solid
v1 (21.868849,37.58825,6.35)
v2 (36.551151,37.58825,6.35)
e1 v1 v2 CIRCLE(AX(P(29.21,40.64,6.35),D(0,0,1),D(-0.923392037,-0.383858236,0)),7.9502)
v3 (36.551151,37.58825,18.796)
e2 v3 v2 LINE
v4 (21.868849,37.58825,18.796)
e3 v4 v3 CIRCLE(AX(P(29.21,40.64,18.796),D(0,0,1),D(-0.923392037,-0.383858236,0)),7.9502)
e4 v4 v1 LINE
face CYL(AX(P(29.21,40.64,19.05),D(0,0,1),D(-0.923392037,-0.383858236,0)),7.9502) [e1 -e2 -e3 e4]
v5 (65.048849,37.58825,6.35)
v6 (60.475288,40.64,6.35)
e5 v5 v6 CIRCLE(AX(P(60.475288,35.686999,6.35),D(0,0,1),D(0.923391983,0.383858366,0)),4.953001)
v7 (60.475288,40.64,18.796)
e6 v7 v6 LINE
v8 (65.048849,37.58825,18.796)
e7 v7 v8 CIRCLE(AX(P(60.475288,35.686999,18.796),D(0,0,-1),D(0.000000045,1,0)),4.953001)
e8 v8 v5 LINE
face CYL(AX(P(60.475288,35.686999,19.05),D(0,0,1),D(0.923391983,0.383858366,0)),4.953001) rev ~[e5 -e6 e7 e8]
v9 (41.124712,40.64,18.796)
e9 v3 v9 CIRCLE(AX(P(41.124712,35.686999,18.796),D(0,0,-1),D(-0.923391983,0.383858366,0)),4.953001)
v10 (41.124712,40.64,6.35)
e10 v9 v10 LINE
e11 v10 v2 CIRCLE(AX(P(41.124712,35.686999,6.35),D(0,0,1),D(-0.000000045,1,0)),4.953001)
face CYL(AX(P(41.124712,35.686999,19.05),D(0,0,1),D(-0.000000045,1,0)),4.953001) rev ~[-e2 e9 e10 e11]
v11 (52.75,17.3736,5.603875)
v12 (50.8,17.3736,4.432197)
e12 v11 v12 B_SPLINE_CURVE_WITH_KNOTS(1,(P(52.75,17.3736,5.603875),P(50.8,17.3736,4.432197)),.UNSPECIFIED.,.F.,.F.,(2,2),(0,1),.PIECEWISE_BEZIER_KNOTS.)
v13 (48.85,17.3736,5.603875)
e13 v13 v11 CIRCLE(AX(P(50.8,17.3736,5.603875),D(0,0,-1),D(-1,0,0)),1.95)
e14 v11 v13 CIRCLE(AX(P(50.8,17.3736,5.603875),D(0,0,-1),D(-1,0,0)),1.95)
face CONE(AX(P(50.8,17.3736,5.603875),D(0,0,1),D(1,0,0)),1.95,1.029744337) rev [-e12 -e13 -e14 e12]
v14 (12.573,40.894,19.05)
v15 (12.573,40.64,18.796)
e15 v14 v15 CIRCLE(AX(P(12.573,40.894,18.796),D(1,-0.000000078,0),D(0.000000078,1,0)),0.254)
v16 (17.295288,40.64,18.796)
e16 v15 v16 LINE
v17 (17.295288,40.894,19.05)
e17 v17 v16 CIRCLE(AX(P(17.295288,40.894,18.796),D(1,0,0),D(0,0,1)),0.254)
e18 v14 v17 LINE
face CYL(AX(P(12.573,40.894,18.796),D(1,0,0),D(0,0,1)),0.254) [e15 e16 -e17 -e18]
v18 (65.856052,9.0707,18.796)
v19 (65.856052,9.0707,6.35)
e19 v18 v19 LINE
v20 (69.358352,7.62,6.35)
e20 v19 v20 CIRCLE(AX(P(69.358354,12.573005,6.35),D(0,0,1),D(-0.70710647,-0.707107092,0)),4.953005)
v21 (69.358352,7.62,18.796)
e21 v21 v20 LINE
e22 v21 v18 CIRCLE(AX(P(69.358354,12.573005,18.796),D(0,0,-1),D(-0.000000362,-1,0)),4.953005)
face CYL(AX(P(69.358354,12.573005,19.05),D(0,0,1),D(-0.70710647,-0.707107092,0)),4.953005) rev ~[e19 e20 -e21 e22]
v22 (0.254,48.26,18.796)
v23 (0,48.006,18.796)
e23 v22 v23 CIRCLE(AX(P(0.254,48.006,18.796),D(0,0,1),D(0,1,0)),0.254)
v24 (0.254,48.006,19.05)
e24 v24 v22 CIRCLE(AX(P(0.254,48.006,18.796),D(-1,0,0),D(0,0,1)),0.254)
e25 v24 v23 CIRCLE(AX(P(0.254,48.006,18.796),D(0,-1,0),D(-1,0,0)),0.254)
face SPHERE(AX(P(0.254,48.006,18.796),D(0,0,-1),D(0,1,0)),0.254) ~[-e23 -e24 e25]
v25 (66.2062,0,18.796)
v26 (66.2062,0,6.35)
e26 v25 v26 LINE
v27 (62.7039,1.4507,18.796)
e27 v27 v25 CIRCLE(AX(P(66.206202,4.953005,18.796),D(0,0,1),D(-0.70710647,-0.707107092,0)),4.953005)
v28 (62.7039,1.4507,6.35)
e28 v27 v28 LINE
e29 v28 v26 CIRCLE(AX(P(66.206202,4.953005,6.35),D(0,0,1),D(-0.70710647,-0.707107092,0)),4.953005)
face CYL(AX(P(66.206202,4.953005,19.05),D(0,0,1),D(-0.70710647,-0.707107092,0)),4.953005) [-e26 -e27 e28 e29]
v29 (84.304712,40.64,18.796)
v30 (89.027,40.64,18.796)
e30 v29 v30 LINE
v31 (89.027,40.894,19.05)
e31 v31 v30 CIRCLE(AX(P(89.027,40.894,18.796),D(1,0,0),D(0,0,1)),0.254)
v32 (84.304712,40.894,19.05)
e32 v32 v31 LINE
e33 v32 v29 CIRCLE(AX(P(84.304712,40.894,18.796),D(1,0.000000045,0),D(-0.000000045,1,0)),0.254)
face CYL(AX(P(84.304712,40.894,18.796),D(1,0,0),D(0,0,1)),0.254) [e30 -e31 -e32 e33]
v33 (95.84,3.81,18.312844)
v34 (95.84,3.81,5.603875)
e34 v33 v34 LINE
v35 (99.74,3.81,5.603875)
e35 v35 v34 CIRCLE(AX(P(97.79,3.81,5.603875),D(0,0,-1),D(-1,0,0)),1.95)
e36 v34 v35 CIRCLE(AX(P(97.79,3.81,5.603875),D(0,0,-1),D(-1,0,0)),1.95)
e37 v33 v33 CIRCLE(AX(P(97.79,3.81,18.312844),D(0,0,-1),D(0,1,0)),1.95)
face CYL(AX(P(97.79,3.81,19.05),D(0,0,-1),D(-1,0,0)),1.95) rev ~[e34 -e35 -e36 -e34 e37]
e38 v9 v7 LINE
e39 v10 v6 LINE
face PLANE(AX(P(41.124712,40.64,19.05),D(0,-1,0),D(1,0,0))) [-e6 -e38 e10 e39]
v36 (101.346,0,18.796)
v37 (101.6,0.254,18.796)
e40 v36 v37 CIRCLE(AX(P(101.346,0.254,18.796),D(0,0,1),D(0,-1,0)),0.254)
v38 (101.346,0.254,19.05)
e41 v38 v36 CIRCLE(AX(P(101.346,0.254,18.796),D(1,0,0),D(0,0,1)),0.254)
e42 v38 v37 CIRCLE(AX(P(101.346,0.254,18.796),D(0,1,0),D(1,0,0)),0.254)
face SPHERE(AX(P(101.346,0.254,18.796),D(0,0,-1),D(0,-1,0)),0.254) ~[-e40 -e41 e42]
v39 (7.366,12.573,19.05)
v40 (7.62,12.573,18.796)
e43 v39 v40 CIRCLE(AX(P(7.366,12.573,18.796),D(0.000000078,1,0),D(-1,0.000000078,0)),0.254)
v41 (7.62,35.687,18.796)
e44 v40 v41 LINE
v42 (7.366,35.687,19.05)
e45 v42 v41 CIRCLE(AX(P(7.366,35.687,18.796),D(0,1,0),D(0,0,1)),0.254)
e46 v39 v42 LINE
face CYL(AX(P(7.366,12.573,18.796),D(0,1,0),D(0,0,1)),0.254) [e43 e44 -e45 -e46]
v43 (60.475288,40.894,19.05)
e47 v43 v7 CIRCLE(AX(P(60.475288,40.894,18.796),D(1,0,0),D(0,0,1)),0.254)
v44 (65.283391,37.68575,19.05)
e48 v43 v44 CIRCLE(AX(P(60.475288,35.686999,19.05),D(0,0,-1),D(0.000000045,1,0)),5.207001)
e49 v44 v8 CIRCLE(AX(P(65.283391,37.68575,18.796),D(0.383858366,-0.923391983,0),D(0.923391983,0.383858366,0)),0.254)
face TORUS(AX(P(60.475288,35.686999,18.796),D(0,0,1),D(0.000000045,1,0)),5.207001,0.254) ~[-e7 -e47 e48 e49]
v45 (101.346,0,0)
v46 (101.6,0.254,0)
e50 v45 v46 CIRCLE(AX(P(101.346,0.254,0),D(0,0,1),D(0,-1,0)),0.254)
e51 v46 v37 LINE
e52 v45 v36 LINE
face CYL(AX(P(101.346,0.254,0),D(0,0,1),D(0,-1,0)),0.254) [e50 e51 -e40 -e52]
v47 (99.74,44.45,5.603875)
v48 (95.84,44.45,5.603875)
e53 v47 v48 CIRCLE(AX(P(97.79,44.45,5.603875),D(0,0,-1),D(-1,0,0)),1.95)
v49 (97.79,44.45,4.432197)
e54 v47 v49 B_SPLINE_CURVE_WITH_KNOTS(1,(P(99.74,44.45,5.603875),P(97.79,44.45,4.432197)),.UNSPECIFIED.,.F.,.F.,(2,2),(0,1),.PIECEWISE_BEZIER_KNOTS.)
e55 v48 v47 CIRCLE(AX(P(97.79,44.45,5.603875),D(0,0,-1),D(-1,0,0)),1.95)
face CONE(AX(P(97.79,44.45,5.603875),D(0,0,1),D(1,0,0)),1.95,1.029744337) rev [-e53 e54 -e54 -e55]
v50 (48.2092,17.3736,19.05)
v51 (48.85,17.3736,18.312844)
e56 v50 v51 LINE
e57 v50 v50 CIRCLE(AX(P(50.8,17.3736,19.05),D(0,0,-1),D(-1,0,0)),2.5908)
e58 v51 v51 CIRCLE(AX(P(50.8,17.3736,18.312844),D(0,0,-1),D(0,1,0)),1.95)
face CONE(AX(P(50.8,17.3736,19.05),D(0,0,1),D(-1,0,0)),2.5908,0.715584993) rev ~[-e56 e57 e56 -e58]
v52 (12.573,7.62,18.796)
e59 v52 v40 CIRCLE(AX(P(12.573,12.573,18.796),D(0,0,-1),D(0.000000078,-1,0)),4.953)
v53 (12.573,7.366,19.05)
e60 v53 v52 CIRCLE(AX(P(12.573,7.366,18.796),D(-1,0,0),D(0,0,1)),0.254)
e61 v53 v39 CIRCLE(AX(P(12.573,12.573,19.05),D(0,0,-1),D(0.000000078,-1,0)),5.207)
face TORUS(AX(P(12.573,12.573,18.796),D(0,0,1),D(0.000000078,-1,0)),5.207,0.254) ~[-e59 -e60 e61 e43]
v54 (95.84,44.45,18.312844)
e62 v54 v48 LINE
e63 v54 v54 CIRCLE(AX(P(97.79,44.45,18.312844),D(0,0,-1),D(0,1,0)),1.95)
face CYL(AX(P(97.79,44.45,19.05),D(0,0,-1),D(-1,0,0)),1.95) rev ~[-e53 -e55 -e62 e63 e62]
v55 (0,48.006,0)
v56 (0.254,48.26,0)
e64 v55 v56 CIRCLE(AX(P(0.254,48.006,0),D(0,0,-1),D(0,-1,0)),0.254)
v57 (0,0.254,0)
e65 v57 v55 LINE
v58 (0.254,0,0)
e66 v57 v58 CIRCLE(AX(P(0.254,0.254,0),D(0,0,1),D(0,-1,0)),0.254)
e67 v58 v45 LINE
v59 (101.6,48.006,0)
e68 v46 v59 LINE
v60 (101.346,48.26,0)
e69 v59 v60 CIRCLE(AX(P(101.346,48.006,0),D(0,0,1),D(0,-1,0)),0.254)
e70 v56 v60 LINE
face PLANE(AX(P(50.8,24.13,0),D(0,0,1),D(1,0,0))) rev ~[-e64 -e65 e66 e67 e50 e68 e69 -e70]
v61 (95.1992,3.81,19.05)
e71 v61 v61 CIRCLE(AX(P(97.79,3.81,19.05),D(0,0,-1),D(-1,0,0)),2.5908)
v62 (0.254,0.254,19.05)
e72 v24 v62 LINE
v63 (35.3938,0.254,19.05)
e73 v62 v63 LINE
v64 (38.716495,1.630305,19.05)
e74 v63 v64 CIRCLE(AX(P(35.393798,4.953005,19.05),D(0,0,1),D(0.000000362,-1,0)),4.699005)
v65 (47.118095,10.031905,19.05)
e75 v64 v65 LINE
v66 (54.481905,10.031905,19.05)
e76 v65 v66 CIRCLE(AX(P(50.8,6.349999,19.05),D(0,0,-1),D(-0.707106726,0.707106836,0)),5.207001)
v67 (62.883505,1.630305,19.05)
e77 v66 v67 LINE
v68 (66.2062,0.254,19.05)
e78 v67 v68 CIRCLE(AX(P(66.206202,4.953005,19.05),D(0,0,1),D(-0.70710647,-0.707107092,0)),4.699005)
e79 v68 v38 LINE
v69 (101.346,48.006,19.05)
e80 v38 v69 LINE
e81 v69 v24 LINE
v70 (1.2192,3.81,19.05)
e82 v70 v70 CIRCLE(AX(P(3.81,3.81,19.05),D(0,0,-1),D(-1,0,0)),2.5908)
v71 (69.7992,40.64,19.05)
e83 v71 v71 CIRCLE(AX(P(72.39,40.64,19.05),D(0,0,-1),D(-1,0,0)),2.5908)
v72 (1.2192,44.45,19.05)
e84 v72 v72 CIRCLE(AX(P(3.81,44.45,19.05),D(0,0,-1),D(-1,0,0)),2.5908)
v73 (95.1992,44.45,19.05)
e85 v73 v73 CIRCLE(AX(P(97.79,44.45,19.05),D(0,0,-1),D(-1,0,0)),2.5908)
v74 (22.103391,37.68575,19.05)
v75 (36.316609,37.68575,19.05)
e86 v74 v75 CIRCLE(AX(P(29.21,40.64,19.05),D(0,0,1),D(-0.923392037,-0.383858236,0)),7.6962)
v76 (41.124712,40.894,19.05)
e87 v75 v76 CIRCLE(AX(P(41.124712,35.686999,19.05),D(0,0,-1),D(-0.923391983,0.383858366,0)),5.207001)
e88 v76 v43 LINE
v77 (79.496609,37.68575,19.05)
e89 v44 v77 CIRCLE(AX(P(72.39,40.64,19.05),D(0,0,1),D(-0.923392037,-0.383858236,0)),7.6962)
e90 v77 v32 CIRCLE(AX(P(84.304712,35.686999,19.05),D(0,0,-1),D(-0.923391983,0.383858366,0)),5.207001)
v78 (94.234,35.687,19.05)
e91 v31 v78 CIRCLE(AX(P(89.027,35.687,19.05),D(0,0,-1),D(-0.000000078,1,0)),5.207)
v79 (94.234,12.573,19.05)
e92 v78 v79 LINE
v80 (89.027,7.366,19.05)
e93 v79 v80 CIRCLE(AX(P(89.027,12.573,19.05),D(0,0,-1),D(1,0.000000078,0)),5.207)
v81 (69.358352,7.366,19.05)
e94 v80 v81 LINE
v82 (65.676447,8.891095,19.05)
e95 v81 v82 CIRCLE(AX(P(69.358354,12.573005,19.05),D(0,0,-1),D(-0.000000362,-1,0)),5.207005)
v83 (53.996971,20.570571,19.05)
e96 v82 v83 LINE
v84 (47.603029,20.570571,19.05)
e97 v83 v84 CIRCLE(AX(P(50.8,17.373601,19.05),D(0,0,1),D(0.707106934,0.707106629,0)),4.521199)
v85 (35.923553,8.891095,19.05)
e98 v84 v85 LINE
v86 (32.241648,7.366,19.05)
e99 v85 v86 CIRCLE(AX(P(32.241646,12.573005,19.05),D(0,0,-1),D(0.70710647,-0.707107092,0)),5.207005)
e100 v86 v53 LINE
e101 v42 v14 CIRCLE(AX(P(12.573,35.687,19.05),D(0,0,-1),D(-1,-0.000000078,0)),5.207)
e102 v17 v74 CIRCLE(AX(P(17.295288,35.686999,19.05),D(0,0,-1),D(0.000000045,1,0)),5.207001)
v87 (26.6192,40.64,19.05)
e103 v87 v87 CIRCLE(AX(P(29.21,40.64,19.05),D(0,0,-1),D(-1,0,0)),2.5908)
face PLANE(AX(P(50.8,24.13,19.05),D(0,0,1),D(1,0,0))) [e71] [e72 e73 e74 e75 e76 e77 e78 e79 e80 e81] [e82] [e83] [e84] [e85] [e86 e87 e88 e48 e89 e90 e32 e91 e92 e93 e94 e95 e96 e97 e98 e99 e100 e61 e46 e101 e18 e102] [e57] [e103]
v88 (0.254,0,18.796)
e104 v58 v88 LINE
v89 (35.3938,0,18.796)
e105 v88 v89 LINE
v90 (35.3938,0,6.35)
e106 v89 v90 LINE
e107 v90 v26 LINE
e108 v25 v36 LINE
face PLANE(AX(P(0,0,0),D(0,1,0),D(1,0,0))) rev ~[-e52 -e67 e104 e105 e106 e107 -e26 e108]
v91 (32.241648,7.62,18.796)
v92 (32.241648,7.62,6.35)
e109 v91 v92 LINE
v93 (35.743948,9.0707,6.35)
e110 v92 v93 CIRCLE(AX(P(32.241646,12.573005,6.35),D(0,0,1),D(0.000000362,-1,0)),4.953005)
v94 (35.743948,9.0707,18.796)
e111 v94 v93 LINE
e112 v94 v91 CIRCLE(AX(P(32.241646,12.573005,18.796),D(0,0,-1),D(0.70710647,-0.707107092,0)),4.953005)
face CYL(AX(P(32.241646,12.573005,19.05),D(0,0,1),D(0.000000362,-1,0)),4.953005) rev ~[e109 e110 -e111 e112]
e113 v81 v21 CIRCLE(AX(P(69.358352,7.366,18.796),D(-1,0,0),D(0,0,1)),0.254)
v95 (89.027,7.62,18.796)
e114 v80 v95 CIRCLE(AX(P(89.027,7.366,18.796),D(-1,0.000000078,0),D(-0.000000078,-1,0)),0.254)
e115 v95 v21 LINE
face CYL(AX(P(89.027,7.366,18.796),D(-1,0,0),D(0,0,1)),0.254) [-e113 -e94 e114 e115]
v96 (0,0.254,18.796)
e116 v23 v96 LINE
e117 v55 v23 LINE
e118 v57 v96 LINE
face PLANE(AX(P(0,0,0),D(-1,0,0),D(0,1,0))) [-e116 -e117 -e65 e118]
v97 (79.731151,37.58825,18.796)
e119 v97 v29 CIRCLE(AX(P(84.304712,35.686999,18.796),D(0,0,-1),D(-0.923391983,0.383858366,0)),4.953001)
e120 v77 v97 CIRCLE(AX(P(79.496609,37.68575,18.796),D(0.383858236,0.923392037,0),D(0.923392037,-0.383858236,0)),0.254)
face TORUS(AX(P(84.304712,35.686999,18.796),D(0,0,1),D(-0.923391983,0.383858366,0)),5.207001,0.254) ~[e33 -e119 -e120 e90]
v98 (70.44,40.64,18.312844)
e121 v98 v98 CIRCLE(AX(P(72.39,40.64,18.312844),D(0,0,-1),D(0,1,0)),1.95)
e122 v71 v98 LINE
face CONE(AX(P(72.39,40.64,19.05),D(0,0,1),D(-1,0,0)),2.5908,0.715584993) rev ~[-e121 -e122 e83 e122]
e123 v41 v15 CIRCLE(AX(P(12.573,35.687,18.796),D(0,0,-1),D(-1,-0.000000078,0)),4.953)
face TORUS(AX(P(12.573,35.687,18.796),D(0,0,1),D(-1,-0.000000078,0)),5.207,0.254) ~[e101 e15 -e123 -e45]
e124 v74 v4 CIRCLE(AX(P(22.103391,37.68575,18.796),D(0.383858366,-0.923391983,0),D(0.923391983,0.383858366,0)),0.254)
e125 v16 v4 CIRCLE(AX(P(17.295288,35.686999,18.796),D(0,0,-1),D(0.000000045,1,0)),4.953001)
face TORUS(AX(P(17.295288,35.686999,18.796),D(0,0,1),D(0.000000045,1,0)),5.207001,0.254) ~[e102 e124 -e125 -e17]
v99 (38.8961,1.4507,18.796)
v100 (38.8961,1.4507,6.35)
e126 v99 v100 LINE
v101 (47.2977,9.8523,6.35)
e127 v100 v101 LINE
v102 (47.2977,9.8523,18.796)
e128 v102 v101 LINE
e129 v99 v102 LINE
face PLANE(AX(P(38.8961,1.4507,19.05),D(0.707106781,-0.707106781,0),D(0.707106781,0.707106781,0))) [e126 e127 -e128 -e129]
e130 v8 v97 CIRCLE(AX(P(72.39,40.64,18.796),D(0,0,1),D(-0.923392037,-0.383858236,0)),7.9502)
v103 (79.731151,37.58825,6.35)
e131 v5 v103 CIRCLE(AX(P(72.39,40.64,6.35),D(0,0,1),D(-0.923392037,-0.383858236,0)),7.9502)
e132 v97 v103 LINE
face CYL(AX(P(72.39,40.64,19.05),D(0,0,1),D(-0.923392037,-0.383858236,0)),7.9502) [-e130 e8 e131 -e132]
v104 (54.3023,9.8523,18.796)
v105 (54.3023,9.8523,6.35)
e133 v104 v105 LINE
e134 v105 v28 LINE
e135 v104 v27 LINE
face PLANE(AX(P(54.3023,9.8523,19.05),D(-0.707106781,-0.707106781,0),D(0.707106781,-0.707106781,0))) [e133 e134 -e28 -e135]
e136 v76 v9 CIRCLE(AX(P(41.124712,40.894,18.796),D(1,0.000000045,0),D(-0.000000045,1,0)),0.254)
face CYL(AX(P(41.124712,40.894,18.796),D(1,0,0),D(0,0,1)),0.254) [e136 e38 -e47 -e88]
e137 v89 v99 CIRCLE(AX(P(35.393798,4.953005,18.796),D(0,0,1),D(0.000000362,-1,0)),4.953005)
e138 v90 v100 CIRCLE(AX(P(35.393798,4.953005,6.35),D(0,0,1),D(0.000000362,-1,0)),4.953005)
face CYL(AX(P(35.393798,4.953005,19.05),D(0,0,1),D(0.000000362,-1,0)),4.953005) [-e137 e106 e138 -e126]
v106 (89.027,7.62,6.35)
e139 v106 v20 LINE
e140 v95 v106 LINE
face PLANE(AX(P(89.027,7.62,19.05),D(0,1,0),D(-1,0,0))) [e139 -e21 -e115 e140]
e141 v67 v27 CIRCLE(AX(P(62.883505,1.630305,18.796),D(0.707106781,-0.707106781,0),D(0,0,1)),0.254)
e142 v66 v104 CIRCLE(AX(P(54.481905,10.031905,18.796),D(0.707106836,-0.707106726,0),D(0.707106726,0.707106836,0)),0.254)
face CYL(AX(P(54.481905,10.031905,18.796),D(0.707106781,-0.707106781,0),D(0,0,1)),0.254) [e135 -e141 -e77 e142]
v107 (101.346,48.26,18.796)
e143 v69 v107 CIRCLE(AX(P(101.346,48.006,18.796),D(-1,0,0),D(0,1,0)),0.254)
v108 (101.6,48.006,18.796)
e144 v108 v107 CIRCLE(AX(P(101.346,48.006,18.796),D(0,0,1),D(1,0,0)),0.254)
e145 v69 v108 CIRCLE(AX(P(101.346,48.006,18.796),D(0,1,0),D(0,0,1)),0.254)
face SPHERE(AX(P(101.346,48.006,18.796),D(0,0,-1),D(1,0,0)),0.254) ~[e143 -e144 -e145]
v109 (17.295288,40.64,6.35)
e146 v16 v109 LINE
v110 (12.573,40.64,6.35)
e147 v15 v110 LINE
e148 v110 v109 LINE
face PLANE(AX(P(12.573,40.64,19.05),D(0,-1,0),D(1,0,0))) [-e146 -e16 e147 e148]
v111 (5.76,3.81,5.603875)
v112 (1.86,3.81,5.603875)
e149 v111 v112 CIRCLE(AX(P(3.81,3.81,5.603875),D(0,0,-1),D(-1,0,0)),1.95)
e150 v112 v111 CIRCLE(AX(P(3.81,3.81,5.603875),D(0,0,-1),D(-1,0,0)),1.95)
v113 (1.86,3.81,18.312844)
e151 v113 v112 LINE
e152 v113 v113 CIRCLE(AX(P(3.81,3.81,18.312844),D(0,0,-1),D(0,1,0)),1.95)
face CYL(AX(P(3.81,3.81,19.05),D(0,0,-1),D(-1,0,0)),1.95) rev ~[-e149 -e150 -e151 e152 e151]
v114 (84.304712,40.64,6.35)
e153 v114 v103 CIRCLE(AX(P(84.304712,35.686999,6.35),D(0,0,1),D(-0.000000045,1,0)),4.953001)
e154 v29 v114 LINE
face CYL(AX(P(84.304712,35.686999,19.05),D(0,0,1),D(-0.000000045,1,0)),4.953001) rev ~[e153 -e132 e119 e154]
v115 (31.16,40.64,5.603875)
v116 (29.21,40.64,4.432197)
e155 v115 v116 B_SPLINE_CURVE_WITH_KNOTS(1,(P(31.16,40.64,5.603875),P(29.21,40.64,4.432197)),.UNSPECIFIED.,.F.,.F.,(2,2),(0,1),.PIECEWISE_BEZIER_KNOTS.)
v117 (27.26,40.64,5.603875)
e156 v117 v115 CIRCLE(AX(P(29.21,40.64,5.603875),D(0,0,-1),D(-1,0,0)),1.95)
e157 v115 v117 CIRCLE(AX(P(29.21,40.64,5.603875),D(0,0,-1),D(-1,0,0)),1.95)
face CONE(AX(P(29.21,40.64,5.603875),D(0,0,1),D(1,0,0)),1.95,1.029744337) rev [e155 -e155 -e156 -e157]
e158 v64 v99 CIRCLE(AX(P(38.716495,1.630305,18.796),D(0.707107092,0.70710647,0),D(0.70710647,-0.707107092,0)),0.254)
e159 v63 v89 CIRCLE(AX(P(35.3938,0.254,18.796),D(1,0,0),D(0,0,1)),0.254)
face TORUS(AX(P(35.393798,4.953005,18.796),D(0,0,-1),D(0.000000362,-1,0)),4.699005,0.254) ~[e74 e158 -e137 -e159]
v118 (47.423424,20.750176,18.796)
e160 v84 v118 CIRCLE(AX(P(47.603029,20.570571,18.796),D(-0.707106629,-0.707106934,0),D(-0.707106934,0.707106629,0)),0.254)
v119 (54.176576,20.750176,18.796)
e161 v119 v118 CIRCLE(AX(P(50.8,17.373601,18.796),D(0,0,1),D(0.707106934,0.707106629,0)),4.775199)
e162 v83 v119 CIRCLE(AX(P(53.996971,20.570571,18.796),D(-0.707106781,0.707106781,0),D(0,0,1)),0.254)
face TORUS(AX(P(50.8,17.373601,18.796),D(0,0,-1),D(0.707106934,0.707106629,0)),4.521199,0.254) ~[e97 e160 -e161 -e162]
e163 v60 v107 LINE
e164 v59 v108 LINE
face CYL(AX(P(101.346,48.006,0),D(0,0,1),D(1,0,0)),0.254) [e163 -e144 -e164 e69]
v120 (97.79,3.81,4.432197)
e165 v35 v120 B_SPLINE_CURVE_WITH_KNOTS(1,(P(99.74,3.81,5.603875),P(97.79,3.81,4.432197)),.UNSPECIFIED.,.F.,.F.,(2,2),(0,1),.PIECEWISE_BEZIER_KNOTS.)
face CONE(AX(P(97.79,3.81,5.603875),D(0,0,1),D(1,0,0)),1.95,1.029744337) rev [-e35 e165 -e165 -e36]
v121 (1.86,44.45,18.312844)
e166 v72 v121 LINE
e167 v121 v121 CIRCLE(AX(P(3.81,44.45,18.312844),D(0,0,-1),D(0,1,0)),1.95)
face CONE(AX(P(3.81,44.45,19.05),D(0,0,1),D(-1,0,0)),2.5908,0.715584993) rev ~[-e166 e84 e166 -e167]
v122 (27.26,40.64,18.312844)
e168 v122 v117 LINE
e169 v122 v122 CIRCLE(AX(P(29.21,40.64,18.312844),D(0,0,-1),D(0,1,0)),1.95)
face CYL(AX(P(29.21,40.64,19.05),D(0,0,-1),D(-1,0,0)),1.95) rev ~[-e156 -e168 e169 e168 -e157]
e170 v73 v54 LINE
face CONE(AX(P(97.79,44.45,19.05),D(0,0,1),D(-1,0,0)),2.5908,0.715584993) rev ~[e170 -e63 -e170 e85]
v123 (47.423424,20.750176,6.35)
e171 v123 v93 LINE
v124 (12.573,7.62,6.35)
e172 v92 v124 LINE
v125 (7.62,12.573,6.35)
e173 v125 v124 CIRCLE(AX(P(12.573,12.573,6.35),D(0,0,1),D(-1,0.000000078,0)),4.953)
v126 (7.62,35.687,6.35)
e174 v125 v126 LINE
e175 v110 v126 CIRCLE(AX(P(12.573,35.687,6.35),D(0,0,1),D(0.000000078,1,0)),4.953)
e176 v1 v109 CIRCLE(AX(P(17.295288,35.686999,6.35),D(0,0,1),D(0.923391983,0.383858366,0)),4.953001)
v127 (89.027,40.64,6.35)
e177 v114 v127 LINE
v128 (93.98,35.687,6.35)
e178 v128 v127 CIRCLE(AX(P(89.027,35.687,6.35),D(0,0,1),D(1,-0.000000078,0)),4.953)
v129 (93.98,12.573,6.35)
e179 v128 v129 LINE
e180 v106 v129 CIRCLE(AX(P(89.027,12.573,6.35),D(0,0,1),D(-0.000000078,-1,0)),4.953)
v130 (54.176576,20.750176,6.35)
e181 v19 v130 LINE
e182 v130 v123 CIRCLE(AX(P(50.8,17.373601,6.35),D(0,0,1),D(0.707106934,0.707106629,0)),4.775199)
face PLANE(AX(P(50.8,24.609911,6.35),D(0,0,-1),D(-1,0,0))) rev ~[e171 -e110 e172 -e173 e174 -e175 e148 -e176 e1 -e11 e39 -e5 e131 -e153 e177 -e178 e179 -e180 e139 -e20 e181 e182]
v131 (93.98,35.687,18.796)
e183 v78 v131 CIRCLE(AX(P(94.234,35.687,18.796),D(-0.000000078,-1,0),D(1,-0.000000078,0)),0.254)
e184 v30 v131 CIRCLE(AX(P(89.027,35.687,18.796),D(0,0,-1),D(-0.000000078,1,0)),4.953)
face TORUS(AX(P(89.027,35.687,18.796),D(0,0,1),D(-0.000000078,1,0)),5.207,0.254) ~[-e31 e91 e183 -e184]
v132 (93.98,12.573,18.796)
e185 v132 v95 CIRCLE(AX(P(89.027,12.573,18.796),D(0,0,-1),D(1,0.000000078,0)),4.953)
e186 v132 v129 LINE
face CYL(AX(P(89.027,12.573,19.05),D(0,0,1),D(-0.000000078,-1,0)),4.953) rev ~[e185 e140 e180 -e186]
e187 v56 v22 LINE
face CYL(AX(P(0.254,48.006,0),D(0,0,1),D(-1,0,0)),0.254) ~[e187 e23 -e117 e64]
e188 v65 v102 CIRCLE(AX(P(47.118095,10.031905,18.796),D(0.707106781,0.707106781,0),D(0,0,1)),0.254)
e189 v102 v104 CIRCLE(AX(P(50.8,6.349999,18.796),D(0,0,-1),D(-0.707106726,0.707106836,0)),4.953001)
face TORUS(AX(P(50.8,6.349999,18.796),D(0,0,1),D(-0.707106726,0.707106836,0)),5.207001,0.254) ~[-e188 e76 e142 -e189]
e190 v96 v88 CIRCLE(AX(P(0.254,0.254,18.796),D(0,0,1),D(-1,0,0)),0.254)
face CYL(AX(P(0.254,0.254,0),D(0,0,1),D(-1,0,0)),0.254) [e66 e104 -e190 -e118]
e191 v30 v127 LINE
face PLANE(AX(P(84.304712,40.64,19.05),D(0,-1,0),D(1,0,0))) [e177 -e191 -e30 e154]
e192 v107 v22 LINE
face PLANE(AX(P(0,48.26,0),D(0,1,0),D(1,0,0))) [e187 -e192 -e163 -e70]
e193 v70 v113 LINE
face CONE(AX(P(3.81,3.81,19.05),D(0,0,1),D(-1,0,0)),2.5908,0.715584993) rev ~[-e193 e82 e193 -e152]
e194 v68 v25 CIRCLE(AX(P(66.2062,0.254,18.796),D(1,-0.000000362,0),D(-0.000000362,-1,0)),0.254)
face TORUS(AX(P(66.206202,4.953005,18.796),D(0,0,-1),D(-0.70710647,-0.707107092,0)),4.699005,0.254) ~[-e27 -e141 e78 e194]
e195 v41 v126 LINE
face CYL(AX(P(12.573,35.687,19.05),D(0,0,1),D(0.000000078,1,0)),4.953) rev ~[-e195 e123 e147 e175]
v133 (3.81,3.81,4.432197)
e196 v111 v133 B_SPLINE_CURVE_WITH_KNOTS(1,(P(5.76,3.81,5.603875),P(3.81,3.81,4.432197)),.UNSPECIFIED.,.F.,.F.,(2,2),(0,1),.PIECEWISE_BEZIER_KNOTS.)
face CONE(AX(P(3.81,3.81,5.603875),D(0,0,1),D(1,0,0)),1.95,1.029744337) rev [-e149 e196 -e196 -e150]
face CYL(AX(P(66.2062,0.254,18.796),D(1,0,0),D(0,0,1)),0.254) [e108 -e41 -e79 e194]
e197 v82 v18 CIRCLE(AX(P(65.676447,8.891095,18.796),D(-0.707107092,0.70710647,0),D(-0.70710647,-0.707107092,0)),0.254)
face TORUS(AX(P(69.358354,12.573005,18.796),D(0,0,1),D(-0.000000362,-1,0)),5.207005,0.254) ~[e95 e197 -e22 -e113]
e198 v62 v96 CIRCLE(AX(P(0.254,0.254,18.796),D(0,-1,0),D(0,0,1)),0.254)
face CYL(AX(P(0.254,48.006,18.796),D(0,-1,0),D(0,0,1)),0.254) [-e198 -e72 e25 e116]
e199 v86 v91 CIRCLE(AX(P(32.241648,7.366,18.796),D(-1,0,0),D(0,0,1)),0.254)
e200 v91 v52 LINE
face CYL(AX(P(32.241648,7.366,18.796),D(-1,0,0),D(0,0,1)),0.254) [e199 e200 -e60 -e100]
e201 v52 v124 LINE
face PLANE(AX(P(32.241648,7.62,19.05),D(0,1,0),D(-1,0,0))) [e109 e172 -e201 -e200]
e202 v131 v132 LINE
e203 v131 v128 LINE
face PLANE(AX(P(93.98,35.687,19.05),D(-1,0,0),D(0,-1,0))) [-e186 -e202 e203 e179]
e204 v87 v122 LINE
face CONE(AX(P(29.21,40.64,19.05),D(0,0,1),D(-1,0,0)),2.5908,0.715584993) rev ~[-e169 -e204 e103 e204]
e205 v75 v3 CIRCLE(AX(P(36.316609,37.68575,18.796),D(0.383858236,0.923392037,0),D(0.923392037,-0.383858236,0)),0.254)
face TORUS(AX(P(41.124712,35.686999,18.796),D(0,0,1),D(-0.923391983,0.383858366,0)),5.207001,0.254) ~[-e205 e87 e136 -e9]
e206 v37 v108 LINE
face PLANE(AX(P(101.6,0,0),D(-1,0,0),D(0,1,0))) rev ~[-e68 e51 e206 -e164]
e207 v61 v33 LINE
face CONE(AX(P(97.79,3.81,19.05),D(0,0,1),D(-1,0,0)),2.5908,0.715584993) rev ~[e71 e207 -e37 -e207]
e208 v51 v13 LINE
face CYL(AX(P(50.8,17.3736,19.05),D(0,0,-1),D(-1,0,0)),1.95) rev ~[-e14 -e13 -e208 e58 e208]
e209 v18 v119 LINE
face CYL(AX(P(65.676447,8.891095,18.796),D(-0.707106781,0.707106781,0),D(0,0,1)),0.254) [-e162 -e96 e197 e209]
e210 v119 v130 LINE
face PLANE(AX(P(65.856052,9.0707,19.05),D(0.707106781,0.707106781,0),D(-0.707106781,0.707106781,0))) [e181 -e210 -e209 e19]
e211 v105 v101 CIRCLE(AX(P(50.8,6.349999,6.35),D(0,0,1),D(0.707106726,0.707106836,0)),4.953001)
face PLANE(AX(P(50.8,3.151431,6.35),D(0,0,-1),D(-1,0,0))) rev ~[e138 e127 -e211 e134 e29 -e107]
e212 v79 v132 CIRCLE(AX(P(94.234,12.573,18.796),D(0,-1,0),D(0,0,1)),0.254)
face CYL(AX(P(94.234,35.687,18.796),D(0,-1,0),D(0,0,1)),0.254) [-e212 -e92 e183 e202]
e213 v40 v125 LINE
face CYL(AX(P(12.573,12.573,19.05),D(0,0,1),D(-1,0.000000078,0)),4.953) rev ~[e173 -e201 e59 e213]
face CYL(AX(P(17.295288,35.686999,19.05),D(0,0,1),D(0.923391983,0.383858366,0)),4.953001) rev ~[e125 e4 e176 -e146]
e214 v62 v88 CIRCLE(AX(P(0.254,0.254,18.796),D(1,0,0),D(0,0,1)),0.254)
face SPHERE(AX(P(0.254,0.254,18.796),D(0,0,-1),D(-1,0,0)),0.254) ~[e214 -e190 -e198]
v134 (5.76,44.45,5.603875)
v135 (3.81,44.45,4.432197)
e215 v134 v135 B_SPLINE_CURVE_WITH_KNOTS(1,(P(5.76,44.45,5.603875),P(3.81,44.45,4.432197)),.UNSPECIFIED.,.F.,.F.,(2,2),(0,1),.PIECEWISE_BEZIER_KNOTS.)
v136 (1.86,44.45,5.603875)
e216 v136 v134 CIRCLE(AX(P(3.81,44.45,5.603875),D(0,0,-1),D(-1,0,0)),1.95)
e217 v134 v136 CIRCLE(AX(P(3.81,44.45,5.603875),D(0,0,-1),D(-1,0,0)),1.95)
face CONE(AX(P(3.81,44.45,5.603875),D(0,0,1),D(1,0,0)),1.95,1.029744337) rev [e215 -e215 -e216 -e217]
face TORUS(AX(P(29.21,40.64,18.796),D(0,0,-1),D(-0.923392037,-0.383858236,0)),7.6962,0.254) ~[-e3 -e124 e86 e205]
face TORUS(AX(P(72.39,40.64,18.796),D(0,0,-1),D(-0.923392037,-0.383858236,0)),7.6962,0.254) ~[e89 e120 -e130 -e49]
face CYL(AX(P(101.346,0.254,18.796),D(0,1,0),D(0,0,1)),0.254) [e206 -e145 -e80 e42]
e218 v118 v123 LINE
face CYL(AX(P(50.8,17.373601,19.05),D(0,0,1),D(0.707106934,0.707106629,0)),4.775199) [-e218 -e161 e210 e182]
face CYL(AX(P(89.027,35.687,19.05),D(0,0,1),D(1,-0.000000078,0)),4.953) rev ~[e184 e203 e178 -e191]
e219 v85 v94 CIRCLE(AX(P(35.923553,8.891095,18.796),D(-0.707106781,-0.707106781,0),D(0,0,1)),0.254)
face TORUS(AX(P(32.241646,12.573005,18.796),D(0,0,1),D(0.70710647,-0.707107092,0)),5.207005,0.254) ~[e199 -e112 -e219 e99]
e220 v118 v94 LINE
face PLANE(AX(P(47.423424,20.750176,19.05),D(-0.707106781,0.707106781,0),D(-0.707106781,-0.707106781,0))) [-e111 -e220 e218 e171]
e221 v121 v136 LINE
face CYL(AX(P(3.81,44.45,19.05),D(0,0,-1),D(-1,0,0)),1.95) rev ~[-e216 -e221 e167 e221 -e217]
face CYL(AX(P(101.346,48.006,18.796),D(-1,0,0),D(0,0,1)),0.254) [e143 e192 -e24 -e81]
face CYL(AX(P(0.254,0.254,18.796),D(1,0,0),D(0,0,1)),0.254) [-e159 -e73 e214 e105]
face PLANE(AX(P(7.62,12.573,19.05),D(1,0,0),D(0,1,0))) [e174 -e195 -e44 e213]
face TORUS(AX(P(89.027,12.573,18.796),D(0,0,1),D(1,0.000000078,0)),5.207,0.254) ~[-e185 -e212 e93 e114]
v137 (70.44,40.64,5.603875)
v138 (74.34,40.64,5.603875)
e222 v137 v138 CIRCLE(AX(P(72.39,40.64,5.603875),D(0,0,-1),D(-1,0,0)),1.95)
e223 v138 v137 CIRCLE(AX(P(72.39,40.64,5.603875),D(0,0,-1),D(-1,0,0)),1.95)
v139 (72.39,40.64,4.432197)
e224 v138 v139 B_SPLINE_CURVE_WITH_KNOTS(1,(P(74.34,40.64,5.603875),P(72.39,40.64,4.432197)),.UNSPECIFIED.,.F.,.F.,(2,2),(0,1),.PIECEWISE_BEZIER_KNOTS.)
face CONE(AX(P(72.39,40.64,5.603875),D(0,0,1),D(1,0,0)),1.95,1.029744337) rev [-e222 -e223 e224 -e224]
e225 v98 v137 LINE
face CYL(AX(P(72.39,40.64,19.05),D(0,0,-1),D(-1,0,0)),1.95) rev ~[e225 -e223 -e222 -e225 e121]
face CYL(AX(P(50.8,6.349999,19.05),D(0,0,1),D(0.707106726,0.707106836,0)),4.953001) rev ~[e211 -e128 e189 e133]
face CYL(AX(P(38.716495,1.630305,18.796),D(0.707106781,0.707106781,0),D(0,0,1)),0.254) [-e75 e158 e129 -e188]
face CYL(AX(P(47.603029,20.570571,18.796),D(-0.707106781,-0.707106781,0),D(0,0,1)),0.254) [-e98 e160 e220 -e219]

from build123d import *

# Parameters (mm, degrees)
BOX_W            = 101.6
BOX_H            = 48.26
BOX_DEPTH        = 19.05
FILLET_R         = 0.254
HOLE_D           = 3.9
HOLE_DEPTH       = 13.446125
HOLE_CSINK_D     = 5.1816
HOLE_CSINK_ANGLE = 82
HOLE_TIPS_R      = 1.95
POCKET_DEPTH     = 12.7
FILLET001_R      = 0.254


with BuildPart() as part:
    # Box → Box (join)
    with BuildSketch(Plane.XY):
        with Locations((50.8, 24.13)):
            Rectangle(BOX_W, BOX_H)
    extrude(amount=BOX_DEPTH)

    # Fillet
    fillet_edges = [part.edges().sort_by_distance(p)[0] for p in [
        (0, 0, 9.525),
        (0, 48.26, 9.525),
        (101.6, 48.26, 9.525),
        (101.6, 0, 9.525),
    ]]
    fillet(fillet_edges, radius=FILLET_R)

    # Hole
    with Locations(Plane.XY.offset(19.05)):
        with Locations((3.81, 44.45), (97.79, 44.45), (29.21, 40.64), (72.39, 40.64), (3.81, 3.81), (97.79, 3.81), (50.8, 17.3736)):
            CounterSinkHole(HOLE_D / 2, HOLE_CSINK_D / 2, depth=HOLE_DEPTH, counter_sink_angle=HOLE_CSINK_ANGLE)

    # Hole tips → Hole tip 1 section 0
    with BuildSketch(Plane.XY.offset(5.603875), mode=Mode.PRIVATE) as hole_tip_1_s0:
        with Locations((3.81, 44.45)):
            Circle(HOLE_TIPS_R)
    loft([hole_tip_1_s0.sketch, Vertex(3.81, 44.45, 4.432197)], mode=Mode.SUBTRACT)

    # Hole tips → Hole tip 2 section 0
    with BuildSketch(Plane.XY.offset(5.603875), mode=Mode.PRIVATE) as hole_tip_2_s0:
        with Locations((97.79, 44.45)):
            Circle(HOLE_TIPS_R)
    loft([hole_tip_2_s0.sketch, Vertex(97.79, 44.45, 4.432197)], mode=Mode.SUBTRACT)

    # Hole tips → Hole tip 3 section 0
    with BuildSketch(Plane.XY.offset(5.603875), mode=Mode.PRIVATE) as hole_tip_3_s0:
        with Locations((29.21, 40.64)):
            Circle(HOLE_TIPS_R)
    loft([hole_tip_3_s0.sketch, Vertex(29.21, 40.64, 4.432197)], mode=Mode.SUBTRACT)

    # Hole tips → Hole tip 4 section 0
    with BuildSketch(Plane.XY.offset(5.603875), mode=Mode.PRIVATE) as hole_tip_4_s0:
        with Locations((72.39, 40.64)):
            Circle(HOLE_TIPS_R)
    loft([hole_tip_4_s0.sketch, Vertex(72.39, 40.64, 4.432197)], mode=Mode.SUBTRACT)

    # Hole tips → Hole tip 5 section 0
    with BuildSketch(Plane.XY.offset(5.603875), mode=Mode.PRIVATE) as hole_tip_5_s0:
        with Locations((3.81, 3.81)):
            Circle(HOLE_TIPS_R)
    loft([hole_tip_5_s0.sketch, Vertex(3.81, 3.81, 4.432197)], mode=Mode.SUBTRACT)

    # Hole tips → Hole tip 6 section 0
    with BuildSketch(Plane.XY.offset(5.603875), mode=Mode.PRIVATE) as hole_tip_6_s0:
        with Locations((97.79, 3.81)):
            Circle(HOLE_TIPS_R)
    loft([hole_tip_6_s0.sketch, Vertex(97.79, 3.81, 4.432197)], mode=Mode.SUBTRACT)

    # Hole tips → Hole tip 7 section 0
    with BuildSketch(Plane.XY.offset(5.603875), mode=Mode.PRIVATE) as hole_tip_7_s0:
        with Locations((50.8, 17.3736)):
            Circle(HOLE_TIPS_R)
    loft([hole_tip_7_s0.sketch, Vertex(50.8, 17.3736, 4.432197)], mode=Mode.SUBTRACT)

    # Sketch (on Face2 of Hole) → Pocket (cut)
    with BuildSketch(Plane.XY.offset(19.05)):
        with BuildLine():
            Line((7.62, 12.573), (7.62, 35.687))
            ThreePointArc((12.573, 40.64), (9.0707, 39.1893), (7.62, 35.687))
            Line((12.573, 40.64), (17.295288, 40.64))
            ThreePointArc((21.868849, 37.58825), (20.044408, 39.807018), (17.295288, 40.64))
            ThreePointArc((21.868849, 37.58825), (29.21, 32.6898), (36.551151, 37.58825))
            ThreePointArc((41.124712, 40.64), (38.375592, 39.807018), (36.551151, 37.58825))
            Line((41.124712, 40.64), (60.475288, 40.64))
            ThreePointArc((65.048849, 37.58825), (63.224408, 39.807018), (60.475288, 40.64))
            ThreePointArc((65.048849, 37.58825), (72.39, 32.6898), (79.731151, 37.58825))
            ThreePointArc((84.304712, 40.64), (81.555592, 39.807018), (79.731151, 37.58825))
            Line((84.304712, 40.64), (89.027, 40.64))
            ThreePointArc((93.98, 35.687), (92.5293, 39.1893), (89.027, 40.64))
            Line((93.98, 35.687), (93.98, 12.573))
            ThreePointArc((89.027, 7.62), (92.5293, 9.0707), (93.98, 12.573))
            Line((89.027, 7.62), (69.358352, 7.62))
            ThreePointArc((65.856052, 9.0707), (67.462921, 7.997025), (69.358352, 7.62))
            Line((65.856052, 9.0707), (54.176576, 20.750176))
            ThreePointArc((54.176576, 20.750176), (50.8, 22.1488), (47.423424, 20.750176))
            Line((47.423424, 20.750176), (35.743948, 9.0707))
            ThreePointArc((32.241648, 7.62), (34.137079, 7.997025), (35.743948, 9.0707))
            Line((32.241648, 7.62), (12.573, 7.62))
            ThreePointArc((7.62, 12.573), (9.0707, 9.0707), (12.573, 7.62))
        make_face()
        with BuildLine():
            Line((38.8961, 1.4507), (47.2977, 9.8523))
            ThreePointArc((54.3023, 9.8523), (50.8, 11.303), (47.2977, 9.8523))
            Line((54.3023, 9.8523), (62.7039, 1.4507))
            ThreePointArc((62.7039, 1.4507), (64.310769, 0.377025), (66.2062, 0))
            Line((35.3938, 0), (66.2062, 0))
            ThreePointArc((35.3938, 0), (37.289231, 0.377025), (38.8961, 1.4507))
        make_face()
    extrude(amount=-POCKET_DEPTH, mode=Mode.SUBTRACT)

    # Fillet001
    fillet001_edges = [part.edges().sort_by_distance(p)[0] for p in [
        (17.8239, 0, 19.05),
        (22.407324, 7.62, 19.05),
    ]]
    fillet(fillet001_edges, radius=FILLET001_R)


solid = part.part
